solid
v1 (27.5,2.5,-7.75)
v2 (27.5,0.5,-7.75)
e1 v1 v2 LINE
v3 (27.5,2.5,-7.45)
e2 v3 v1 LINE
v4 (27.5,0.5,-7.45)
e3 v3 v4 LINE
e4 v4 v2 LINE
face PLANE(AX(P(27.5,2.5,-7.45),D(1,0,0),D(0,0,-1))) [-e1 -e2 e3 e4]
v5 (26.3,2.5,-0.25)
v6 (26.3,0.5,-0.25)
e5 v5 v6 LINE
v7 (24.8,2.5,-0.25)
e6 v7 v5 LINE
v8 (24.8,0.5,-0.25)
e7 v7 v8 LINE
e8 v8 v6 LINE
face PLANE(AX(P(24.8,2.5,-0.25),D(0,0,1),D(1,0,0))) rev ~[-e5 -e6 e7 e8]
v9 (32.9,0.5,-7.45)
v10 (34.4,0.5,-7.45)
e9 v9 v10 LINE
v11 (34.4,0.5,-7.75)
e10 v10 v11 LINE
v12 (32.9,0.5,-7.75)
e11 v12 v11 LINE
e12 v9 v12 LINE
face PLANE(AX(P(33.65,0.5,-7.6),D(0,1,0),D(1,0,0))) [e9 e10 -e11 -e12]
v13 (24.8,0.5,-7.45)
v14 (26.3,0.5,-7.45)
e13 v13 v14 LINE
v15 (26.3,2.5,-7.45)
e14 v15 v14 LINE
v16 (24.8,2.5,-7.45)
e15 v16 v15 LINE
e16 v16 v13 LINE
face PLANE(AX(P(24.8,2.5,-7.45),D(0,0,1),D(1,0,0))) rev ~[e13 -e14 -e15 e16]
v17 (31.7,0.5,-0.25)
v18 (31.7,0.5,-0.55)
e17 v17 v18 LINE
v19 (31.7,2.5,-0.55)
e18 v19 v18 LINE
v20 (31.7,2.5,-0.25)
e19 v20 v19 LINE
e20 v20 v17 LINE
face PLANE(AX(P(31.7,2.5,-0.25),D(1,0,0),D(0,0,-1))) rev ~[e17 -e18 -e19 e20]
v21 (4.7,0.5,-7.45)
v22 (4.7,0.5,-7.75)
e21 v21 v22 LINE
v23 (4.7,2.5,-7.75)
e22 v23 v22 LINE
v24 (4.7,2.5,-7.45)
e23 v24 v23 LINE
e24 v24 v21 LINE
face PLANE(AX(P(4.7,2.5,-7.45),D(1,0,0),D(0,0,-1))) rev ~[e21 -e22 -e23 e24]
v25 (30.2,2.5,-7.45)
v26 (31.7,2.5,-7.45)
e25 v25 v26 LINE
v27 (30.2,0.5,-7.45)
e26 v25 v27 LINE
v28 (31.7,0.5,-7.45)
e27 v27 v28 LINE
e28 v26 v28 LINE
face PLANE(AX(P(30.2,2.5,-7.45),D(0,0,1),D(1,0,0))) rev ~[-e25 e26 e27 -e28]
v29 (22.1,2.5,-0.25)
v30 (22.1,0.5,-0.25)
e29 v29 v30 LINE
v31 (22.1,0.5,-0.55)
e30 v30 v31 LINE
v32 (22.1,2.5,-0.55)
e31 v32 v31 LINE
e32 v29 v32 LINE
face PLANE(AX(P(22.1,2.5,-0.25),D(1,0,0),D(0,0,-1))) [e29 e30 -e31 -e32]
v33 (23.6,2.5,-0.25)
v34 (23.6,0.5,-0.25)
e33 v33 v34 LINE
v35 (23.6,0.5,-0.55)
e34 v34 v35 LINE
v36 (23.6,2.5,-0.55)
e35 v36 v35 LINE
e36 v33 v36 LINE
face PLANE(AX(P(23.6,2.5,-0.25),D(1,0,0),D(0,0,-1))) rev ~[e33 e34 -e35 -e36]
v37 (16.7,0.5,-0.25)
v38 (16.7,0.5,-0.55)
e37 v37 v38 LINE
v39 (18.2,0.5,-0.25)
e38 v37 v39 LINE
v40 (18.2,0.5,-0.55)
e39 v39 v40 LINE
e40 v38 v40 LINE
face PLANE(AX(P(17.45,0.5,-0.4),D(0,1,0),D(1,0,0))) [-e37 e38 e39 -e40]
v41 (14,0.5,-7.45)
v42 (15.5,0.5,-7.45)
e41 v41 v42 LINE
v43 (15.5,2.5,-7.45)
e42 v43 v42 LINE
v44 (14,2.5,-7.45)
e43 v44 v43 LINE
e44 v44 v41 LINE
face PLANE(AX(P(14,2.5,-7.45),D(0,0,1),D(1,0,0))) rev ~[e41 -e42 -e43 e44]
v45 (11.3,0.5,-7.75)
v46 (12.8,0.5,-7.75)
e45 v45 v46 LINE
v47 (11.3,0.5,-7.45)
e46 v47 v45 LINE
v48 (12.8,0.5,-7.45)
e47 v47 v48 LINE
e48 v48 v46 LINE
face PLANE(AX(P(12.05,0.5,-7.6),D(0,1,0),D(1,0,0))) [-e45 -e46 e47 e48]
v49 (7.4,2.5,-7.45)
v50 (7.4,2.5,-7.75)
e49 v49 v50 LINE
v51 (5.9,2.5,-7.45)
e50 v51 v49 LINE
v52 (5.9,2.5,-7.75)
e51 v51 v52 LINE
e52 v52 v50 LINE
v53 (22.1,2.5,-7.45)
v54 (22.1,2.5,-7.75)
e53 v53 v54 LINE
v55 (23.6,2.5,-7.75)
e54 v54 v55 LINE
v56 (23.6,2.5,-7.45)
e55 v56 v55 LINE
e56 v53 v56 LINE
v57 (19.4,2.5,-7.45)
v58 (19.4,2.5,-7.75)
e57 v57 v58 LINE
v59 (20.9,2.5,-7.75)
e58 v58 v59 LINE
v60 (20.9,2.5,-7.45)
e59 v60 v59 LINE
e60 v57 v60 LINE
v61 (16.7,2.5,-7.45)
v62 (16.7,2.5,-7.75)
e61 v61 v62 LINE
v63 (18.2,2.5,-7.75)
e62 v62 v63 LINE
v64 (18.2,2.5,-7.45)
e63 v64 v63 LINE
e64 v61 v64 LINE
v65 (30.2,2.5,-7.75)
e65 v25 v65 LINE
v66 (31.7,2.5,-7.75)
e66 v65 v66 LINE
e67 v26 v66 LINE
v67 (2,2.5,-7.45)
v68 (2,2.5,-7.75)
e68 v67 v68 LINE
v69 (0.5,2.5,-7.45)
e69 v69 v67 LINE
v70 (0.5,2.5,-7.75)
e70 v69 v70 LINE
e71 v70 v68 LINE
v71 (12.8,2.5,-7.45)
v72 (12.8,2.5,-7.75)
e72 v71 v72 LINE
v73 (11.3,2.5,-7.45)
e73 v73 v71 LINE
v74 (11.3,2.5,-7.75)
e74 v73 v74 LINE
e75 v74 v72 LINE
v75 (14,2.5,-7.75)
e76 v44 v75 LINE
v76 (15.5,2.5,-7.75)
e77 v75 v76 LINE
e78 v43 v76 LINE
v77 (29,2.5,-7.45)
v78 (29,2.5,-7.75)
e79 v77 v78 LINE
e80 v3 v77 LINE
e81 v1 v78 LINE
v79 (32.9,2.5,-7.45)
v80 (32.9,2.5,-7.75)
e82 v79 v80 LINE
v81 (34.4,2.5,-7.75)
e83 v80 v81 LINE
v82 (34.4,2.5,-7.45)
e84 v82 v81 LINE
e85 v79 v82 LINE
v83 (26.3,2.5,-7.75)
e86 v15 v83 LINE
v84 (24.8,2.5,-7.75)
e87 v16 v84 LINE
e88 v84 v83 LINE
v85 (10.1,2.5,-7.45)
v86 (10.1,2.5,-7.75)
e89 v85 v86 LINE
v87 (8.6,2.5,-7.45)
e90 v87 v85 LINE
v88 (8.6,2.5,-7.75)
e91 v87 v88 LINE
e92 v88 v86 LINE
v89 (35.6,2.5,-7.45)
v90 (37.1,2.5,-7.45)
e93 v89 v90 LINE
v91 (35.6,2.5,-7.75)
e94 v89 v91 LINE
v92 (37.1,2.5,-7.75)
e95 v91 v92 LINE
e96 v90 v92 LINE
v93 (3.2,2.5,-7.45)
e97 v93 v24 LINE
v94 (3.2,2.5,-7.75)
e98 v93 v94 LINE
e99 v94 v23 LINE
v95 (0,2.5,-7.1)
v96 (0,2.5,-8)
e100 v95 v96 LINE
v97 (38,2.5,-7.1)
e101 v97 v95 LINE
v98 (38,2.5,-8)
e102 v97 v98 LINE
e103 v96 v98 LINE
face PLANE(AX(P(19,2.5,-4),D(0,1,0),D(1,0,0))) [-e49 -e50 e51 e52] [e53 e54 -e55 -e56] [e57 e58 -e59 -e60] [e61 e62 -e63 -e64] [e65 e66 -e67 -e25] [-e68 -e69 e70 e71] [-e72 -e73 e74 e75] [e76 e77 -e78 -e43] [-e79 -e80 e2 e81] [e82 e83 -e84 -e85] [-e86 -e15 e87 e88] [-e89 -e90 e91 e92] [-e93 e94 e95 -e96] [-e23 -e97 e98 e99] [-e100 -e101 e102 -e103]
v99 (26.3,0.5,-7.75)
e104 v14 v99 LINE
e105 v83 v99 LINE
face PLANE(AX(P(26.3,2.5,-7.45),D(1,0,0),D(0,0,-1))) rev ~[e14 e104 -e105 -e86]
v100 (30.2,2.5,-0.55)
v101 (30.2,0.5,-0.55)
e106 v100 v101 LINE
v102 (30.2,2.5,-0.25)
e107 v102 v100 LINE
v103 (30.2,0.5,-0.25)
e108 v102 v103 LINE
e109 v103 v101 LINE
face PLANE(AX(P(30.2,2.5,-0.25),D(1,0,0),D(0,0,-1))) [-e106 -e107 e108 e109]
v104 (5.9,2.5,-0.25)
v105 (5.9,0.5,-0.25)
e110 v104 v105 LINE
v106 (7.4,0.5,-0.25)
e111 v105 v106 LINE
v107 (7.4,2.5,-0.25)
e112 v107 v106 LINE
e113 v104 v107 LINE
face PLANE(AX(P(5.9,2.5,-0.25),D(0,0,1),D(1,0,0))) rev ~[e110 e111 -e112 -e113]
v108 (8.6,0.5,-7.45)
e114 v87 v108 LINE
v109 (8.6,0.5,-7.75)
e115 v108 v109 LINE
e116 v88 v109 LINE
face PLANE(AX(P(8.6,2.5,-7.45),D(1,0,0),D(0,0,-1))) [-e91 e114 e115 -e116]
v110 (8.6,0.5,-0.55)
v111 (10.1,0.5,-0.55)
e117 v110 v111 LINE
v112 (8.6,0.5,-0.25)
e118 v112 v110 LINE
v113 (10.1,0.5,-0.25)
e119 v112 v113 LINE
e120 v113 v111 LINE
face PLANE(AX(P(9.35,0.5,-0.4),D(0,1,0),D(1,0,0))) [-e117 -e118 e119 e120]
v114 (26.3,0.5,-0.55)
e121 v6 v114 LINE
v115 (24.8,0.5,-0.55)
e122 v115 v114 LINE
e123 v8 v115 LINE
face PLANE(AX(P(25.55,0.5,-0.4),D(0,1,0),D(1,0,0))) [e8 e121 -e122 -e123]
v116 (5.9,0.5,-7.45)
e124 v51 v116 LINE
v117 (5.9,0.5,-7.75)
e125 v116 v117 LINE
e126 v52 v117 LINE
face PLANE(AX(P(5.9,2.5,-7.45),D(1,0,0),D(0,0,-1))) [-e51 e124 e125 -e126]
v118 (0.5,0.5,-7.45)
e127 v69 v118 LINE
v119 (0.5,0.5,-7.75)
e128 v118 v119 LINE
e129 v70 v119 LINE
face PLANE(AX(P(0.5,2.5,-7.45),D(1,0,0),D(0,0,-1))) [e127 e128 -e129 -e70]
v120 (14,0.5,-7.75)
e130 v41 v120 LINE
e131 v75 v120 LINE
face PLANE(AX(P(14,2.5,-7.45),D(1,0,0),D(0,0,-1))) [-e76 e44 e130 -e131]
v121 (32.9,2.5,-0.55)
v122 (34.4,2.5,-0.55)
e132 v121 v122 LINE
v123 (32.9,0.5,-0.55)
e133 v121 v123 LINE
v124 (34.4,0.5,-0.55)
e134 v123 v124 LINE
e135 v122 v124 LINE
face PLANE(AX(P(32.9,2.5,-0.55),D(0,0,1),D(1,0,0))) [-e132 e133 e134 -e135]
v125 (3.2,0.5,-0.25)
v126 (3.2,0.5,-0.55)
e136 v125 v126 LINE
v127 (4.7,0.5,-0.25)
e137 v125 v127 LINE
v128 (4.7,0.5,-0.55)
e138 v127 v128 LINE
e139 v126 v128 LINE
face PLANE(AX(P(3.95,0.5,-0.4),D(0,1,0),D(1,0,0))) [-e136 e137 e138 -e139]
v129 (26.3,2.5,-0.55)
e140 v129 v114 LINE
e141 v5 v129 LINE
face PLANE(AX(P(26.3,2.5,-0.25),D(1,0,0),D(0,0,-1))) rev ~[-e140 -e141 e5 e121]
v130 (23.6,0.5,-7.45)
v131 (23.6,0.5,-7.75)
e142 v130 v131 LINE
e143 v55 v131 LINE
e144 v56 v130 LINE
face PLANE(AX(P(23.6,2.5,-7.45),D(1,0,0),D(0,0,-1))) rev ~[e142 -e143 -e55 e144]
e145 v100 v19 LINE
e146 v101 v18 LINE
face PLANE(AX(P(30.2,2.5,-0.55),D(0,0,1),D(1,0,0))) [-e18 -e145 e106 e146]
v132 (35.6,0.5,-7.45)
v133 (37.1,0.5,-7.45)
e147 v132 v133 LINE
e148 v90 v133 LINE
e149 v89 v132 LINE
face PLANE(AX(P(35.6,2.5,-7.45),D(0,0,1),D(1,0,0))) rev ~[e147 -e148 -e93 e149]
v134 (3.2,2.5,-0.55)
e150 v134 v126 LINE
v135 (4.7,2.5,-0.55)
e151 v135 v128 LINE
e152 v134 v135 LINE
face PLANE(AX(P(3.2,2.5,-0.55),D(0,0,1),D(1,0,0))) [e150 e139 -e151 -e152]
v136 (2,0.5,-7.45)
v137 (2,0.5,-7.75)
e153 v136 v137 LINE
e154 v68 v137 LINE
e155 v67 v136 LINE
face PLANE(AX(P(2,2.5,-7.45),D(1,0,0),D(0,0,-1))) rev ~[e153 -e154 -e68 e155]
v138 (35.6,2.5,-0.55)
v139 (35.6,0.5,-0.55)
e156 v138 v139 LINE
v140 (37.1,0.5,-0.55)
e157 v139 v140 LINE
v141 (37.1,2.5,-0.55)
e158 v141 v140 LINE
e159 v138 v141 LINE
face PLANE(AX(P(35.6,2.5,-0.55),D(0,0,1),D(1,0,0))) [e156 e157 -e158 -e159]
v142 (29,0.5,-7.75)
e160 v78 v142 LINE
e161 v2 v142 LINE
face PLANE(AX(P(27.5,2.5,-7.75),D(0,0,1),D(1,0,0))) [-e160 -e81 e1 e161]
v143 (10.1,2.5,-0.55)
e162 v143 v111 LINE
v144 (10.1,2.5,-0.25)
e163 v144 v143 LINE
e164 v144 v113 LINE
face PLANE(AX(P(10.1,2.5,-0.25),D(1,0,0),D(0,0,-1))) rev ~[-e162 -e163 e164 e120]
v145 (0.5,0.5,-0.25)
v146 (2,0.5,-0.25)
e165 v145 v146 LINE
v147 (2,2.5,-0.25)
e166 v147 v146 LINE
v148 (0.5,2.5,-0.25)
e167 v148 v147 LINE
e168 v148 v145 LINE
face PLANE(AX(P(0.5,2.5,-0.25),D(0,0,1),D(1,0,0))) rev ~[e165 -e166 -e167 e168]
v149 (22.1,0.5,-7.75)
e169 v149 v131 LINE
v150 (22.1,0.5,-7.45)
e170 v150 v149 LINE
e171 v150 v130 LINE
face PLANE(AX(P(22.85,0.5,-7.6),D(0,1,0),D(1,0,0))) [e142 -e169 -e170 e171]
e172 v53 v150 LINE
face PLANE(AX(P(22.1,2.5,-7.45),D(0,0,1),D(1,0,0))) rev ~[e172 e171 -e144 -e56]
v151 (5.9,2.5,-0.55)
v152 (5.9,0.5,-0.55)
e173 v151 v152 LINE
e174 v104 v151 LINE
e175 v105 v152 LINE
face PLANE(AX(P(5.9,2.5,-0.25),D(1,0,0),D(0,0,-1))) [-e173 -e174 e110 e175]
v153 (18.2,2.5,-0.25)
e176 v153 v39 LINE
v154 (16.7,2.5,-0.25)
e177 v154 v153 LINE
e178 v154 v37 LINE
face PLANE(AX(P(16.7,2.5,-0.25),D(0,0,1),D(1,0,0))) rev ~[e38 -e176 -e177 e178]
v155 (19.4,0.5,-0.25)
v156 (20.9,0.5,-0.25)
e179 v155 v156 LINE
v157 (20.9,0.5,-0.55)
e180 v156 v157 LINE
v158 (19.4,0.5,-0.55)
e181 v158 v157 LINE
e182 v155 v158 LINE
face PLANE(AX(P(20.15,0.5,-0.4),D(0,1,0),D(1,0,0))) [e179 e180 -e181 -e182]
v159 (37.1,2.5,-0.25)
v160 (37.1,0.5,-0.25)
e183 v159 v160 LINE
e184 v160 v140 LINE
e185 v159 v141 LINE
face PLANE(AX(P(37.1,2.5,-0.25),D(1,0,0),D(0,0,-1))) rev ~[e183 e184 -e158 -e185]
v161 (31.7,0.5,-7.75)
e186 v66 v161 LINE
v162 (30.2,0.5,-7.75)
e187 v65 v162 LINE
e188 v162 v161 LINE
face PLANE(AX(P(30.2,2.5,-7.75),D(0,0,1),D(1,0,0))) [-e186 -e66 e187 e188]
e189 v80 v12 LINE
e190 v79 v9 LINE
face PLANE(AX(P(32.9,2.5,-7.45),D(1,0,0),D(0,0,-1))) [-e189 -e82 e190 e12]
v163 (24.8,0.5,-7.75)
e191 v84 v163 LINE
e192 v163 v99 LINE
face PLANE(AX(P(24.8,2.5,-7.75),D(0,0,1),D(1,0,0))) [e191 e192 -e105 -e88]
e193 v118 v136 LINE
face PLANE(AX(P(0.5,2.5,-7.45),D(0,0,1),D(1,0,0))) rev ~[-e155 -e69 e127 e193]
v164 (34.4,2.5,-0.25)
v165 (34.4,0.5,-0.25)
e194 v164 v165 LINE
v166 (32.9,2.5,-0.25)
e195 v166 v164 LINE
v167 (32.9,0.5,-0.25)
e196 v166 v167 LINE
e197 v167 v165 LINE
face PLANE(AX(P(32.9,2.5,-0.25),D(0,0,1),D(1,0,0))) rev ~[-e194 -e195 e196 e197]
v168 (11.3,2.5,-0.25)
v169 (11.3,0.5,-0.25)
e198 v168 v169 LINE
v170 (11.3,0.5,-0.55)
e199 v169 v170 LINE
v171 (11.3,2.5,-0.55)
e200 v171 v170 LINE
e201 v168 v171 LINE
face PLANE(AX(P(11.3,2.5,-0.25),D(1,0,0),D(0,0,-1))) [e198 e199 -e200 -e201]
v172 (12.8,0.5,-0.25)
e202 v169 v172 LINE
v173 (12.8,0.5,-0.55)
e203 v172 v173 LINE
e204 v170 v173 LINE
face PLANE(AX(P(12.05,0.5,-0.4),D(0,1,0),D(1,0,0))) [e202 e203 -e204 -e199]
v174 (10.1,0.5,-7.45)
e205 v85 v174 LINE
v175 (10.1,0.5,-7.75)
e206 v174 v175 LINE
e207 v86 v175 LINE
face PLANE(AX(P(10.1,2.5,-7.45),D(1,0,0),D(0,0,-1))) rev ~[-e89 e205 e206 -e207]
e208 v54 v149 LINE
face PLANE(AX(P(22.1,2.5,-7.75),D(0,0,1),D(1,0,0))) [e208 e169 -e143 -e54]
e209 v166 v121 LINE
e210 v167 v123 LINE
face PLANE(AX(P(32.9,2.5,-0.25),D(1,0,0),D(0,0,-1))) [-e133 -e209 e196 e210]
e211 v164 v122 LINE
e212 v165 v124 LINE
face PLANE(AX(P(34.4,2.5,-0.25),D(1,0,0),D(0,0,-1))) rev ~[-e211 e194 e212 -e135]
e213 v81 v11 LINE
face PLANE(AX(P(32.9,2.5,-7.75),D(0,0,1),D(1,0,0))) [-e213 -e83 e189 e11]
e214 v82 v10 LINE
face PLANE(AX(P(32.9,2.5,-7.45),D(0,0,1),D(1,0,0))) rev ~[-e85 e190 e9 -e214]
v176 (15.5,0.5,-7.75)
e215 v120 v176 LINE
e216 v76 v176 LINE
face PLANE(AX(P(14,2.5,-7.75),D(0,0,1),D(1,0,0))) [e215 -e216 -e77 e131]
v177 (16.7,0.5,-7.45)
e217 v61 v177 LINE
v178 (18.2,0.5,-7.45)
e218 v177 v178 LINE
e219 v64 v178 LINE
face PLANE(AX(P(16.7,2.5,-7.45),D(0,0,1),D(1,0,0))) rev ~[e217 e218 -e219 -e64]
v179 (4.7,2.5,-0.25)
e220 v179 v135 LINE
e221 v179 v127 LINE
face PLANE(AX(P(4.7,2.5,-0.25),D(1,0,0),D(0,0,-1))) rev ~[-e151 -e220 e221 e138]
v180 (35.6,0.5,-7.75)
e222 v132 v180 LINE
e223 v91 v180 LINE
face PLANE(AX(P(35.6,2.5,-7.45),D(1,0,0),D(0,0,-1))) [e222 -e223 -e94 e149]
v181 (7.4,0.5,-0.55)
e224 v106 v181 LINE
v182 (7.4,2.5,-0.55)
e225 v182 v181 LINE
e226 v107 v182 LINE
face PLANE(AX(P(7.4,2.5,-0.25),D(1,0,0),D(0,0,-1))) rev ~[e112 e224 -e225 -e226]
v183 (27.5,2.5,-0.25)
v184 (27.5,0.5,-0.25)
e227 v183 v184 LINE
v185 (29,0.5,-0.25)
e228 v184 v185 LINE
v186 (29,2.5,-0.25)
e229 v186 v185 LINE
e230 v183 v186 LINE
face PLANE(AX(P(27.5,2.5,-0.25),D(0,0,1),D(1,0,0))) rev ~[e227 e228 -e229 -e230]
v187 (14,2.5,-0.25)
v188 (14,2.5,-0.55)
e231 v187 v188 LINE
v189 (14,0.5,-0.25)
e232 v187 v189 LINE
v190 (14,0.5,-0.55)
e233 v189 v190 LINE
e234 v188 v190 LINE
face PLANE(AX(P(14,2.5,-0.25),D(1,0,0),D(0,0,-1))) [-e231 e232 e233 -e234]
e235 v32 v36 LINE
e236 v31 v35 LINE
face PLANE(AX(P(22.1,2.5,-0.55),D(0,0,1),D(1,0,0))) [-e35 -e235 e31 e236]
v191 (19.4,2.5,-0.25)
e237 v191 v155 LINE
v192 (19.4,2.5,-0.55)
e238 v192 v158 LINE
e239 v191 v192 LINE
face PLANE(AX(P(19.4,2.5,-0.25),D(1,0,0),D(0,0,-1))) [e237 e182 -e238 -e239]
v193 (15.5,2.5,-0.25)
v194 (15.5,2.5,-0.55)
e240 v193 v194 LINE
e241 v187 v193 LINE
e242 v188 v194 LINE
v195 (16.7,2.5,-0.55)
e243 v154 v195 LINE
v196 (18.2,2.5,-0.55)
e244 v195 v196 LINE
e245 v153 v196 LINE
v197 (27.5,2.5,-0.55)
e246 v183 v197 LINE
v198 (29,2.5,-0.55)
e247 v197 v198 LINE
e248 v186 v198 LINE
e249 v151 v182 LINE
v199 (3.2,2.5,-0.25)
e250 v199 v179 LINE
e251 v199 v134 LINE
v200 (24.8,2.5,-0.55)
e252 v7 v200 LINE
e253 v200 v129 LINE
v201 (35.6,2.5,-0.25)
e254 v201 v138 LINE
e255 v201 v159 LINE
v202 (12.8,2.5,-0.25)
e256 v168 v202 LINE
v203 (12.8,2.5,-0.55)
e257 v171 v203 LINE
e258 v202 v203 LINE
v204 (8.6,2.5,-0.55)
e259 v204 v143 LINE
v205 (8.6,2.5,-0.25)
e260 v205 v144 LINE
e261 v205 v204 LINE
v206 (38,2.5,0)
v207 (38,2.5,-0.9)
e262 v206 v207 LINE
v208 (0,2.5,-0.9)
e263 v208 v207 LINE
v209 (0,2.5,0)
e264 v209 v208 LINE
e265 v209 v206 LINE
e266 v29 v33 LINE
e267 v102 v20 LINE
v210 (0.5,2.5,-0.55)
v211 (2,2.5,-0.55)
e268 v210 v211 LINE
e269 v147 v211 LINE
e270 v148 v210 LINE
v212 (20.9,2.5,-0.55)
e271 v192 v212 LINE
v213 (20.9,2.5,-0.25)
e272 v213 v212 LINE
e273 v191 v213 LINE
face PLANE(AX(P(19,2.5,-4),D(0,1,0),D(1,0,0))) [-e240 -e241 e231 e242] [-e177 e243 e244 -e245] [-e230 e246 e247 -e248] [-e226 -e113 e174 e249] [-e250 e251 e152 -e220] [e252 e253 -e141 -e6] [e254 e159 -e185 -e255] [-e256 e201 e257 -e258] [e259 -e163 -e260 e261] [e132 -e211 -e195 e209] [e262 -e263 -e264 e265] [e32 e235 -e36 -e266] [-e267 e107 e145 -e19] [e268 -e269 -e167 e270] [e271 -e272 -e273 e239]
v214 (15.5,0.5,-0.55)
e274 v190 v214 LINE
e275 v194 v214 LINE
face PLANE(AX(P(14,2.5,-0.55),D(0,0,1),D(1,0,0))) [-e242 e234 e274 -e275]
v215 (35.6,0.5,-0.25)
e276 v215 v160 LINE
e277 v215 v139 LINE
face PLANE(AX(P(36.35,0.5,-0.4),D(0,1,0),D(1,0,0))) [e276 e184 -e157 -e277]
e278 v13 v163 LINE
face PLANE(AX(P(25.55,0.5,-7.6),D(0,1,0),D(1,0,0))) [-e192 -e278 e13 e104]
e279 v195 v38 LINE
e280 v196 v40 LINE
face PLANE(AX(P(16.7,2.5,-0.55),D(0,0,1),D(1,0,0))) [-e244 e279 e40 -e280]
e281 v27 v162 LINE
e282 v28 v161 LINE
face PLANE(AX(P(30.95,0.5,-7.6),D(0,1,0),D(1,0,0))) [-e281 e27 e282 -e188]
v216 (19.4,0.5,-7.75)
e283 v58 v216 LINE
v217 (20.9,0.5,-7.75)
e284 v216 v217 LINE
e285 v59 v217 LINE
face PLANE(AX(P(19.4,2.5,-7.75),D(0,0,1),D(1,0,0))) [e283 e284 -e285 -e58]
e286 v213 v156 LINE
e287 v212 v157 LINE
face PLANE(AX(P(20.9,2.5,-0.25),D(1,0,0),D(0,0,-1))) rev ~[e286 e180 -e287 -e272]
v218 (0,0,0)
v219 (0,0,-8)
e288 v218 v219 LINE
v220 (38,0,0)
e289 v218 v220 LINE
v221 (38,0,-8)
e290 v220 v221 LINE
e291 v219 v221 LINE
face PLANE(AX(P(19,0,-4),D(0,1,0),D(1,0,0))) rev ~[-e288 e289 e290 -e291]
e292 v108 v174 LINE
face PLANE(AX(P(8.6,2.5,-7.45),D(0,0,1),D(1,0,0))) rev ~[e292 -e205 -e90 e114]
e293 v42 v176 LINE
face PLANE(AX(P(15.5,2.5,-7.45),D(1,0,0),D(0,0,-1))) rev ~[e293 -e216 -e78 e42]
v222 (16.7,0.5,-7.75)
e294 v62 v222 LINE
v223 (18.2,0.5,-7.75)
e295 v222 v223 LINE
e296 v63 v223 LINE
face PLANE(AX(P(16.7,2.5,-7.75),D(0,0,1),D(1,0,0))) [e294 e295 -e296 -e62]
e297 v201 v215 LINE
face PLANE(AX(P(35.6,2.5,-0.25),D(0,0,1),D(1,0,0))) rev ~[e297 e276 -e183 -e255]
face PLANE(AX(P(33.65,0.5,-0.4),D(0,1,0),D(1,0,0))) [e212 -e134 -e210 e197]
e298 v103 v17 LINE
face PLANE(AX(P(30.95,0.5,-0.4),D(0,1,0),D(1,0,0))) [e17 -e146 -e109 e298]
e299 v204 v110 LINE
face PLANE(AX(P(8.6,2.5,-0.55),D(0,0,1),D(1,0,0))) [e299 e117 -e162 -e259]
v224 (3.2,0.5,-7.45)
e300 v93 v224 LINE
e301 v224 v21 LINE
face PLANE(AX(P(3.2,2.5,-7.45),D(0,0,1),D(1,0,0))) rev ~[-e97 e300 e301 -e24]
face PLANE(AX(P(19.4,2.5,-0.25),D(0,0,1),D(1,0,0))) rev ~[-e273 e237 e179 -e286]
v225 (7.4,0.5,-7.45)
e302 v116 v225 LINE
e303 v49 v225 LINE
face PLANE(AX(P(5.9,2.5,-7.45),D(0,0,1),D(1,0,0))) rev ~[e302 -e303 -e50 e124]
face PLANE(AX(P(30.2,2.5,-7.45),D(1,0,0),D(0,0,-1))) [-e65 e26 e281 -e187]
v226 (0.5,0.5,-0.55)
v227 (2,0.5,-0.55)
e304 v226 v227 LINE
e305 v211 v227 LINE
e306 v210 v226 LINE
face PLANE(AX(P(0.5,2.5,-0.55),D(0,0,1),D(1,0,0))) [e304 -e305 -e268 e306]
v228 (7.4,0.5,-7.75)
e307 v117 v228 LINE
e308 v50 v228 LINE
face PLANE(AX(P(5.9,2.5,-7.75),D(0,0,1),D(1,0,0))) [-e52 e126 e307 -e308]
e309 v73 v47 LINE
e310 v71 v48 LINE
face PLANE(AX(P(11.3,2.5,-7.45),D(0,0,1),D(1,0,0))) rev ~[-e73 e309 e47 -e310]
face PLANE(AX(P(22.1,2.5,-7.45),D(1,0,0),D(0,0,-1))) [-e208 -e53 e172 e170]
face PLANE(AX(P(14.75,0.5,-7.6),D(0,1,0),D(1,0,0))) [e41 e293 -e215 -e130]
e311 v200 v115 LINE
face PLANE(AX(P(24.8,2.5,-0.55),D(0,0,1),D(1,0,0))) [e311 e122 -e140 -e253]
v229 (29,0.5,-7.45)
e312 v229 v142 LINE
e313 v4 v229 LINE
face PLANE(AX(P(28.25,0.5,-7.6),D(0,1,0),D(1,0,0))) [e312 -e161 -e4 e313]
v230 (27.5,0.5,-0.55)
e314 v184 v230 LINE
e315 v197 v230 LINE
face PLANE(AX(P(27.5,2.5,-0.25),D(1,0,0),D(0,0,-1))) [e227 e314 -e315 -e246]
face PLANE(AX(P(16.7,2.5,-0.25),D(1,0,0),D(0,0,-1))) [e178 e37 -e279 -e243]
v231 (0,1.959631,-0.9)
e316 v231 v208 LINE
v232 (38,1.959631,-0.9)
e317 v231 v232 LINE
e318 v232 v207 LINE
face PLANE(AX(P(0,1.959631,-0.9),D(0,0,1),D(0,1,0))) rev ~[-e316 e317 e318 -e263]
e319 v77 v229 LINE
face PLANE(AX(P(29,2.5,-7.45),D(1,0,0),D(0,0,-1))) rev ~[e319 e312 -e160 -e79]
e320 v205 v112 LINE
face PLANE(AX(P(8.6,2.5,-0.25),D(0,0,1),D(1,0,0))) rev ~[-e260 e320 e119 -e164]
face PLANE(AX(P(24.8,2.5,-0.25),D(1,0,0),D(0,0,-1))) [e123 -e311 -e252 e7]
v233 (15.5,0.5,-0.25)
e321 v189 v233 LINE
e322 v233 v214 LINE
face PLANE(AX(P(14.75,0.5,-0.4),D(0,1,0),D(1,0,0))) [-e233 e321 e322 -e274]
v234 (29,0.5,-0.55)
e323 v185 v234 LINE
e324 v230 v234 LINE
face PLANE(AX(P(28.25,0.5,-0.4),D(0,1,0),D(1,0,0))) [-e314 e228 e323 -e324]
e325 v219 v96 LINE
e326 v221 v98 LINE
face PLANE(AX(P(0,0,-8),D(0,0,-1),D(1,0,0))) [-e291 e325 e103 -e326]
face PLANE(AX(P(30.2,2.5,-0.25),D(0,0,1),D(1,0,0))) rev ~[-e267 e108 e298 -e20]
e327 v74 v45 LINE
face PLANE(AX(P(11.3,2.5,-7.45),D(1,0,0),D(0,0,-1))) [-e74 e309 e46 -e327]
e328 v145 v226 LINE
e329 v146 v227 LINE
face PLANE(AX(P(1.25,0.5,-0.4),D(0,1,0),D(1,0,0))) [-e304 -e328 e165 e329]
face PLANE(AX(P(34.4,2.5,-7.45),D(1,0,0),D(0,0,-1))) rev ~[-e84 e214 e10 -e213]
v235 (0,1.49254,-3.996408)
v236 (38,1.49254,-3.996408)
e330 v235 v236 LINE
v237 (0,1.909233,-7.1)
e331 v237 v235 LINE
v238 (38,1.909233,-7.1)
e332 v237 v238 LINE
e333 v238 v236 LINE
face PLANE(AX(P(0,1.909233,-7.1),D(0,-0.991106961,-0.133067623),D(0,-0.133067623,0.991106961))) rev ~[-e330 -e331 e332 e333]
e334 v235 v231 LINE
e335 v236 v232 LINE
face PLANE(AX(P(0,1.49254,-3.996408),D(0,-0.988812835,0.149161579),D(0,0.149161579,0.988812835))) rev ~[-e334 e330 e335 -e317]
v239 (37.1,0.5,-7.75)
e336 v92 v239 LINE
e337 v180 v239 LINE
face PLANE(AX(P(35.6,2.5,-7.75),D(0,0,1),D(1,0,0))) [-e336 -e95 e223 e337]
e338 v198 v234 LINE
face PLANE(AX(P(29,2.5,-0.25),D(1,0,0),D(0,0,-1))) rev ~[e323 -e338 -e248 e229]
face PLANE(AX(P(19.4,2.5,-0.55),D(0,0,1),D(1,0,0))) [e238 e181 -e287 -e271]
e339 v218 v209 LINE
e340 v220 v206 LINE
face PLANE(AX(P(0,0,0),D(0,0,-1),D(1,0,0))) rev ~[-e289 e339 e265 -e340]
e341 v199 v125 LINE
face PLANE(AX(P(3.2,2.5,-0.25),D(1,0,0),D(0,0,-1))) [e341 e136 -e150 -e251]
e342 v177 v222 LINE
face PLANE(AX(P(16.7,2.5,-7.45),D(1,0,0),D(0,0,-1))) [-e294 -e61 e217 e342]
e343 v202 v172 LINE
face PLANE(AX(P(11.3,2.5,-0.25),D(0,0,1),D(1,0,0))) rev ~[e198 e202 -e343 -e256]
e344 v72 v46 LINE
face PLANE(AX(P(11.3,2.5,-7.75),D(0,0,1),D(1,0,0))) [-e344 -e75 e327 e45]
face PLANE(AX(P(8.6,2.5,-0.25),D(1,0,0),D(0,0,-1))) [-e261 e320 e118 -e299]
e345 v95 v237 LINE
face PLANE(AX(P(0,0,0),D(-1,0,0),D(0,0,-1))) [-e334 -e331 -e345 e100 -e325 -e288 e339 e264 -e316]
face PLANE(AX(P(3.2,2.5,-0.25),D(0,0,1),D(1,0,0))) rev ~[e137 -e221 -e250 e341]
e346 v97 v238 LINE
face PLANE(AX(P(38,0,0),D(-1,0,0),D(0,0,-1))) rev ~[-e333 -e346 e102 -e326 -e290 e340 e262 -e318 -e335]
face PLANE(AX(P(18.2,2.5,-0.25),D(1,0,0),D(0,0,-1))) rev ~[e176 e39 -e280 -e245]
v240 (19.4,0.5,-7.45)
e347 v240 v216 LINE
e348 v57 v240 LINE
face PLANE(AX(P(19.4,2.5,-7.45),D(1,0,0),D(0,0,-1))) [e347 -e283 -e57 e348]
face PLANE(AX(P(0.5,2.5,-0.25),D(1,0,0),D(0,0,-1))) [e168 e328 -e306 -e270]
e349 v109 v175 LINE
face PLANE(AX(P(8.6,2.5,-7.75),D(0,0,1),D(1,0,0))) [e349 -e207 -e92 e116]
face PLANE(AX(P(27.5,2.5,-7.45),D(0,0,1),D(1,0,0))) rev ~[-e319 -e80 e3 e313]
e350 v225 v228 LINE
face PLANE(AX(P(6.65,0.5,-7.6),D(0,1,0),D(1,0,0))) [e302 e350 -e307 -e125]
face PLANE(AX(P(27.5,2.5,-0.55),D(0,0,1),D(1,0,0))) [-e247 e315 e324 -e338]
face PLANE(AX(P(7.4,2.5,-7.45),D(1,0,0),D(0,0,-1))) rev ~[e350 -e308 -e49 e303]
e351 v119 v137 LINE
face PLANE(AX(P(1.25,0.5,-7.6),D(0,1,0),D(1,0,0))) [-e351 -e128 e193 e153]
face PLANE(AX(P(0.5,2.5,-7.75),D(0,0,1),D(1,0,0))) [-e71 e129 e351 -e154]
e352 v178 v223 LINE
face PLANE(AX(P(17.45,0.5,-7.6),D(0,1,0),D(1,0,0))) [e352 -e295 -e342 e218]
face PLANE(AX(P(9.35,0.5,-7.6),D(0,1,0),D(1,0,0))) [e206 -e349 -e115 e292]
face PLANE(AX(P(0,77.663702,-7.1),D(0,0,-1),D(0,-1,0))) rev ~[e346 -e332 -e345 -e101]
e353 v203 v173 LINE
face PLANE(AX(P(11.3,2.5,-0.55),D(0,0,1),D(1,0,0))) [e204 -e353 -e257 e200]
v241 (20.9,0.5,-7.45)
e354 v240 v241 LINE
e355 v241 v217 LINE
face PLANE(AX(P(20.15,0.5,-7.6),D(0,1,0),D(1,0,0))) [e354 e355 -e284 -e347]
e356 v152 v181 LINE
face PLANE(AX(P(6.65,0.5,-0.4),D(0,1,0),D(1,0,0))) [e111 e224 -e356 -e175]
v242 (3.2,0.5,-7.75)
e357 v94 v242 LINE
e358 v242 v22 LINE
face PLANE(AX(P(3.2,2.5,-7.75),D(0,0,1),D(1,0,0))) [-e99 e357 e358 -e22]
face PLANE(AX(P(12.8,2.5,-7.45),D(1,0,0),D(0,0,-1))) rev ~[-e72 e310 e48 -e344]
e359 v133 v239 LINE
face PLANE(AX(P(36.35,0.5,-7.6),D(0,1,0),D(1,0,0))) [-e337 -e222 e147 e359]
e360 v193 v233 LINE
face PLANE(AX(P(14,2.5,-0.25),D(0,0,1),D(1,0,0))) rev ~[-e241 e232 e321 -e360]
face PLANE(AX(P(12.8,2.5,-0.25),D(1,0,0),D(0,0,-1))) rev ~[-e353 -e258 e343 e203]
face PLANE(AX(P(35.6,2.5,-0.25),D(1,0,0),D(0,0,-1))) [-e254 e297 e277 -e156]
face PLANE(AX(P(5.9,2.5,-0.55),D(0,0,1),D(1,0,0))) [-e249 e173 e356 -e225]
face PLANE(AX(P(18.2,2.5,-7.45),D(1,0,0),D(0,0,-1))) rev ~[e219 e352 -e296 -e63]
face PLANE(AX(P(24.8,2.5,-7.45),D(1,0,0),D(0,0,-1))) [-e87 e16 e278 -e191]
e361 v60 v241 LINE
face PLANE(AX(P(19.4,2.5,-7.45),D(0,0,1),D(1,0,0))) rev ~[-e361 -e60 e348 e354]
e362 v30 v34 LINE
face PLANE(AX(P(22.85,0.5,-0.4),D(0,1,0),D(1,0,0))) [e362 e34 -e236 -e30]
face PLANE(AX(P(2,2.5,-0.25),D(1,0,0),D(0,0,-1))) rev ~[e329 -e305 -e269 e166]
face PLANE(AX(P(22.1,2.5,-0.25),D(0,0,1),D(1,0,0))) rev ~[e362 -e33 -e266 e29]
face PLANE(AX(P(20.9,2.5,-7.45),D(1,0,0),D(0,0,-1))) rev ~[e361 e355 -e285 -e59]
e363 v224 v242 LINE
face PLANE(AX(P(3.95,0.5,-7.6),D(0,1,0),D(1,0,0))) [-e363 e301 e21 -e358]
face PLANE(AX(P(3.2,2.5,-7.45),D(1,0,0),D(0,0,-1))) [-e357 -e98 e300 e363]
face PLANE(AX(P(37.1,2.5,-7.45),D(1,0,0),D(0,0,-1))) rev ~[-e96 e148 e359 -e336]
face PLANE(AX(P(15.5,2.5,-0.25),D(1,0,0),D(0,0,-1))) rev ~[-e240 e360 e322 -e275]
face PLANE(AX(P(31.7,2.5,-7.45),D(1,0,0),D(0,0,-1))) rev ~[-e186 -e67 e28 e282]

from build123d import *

# Parameters (mm, degrees)
SKETCH1_W               = 38
SKETCH1_H               = 8
BOSS_EXTRUDE1_DEPTH     = 2.5
SKETCH2_W               = 1.5
SKETCH2_H               = 0.3
CUT_EXTRUDE1_DEPTH      = 2
LPATTERN1_COUNT         = 14
LPATTERN1_PITCH         = 2.7
LPATTERN1_COUNT_DIR2    = 2
LPATTERN1_PITCH_DIR2    = 7.2
CUT_EXTRUDE3_DEPTH      = 1
CUT_EXTRUDE3_DEPTH_BACK = 39


with BuildPart() as part:
    # Sketch1 → Boss-Extrude1 (new body)
    with BuildSketch(Plane(origin=(0, 0, 0), x_dir=(1, 0, 0), z_dir=(0, 1, 0))):
        with Locations((19, 4)):
            Rectangle(SKETCH1_W, SKETCH1_H)
    extrude(amount=BOSS_EXTRUDE1_DEPTH)

    # Sketch2 → Cut-Extrude1 (cut)
    with BuildSketch(Plane(origin=(0, 2.5, 0), x_dir=(1, 0, 0), z_dir=(0, 1, 0))):
        with Locations((1.25, 0.4)):
            Rectangle(SKETCH2_W, SKETCH2_H)
    cut_extrude1 = extrude(amount=-CUT_EXTRUDE1_DEPTH, mode=Mode.SUBTRACT)

    # LPattern1: Cut-Extrude1 14 × 2
    with Locations(*[(i * LPATTERN1_PITCH, 0, -j * LPATTERN1_PITCH_DIR2) for i in range(LPATTERN1_COUNT) for j in range(LPATTERN1_COUNT_DIR2) if (i, j) != (0, 0)]):
        add(cut_extrude1, mode=Mode.SUBTRACT)

    # Sketch3 → Cut-Extrude3 (cut, two sides)
    with BuildSketch(Plane.ZY) as cut_extrude3_sk:
        Polygon((-7.1, 27.554567413), (-7.1, 2.5), (-7.1, 1.909233449), (-3.996408042, 1.492540175), (-0.9, 1.959630707), (-0.9, 2.5), (-0.9, 27.554567413), (-0.9, 77.66370224), (-7.1, 77.66370224), align=None)
    extrude(amount=CUT_EXTRUDE3_DEPTH, mode=Mode.SUBTRACT)
    extrude(cut_extrude3_sk.sketch, amount=-CUT_EXTRUDE3_DEPTH_BACK, mode=Mode.SUBTRACT)


solid = part.part
